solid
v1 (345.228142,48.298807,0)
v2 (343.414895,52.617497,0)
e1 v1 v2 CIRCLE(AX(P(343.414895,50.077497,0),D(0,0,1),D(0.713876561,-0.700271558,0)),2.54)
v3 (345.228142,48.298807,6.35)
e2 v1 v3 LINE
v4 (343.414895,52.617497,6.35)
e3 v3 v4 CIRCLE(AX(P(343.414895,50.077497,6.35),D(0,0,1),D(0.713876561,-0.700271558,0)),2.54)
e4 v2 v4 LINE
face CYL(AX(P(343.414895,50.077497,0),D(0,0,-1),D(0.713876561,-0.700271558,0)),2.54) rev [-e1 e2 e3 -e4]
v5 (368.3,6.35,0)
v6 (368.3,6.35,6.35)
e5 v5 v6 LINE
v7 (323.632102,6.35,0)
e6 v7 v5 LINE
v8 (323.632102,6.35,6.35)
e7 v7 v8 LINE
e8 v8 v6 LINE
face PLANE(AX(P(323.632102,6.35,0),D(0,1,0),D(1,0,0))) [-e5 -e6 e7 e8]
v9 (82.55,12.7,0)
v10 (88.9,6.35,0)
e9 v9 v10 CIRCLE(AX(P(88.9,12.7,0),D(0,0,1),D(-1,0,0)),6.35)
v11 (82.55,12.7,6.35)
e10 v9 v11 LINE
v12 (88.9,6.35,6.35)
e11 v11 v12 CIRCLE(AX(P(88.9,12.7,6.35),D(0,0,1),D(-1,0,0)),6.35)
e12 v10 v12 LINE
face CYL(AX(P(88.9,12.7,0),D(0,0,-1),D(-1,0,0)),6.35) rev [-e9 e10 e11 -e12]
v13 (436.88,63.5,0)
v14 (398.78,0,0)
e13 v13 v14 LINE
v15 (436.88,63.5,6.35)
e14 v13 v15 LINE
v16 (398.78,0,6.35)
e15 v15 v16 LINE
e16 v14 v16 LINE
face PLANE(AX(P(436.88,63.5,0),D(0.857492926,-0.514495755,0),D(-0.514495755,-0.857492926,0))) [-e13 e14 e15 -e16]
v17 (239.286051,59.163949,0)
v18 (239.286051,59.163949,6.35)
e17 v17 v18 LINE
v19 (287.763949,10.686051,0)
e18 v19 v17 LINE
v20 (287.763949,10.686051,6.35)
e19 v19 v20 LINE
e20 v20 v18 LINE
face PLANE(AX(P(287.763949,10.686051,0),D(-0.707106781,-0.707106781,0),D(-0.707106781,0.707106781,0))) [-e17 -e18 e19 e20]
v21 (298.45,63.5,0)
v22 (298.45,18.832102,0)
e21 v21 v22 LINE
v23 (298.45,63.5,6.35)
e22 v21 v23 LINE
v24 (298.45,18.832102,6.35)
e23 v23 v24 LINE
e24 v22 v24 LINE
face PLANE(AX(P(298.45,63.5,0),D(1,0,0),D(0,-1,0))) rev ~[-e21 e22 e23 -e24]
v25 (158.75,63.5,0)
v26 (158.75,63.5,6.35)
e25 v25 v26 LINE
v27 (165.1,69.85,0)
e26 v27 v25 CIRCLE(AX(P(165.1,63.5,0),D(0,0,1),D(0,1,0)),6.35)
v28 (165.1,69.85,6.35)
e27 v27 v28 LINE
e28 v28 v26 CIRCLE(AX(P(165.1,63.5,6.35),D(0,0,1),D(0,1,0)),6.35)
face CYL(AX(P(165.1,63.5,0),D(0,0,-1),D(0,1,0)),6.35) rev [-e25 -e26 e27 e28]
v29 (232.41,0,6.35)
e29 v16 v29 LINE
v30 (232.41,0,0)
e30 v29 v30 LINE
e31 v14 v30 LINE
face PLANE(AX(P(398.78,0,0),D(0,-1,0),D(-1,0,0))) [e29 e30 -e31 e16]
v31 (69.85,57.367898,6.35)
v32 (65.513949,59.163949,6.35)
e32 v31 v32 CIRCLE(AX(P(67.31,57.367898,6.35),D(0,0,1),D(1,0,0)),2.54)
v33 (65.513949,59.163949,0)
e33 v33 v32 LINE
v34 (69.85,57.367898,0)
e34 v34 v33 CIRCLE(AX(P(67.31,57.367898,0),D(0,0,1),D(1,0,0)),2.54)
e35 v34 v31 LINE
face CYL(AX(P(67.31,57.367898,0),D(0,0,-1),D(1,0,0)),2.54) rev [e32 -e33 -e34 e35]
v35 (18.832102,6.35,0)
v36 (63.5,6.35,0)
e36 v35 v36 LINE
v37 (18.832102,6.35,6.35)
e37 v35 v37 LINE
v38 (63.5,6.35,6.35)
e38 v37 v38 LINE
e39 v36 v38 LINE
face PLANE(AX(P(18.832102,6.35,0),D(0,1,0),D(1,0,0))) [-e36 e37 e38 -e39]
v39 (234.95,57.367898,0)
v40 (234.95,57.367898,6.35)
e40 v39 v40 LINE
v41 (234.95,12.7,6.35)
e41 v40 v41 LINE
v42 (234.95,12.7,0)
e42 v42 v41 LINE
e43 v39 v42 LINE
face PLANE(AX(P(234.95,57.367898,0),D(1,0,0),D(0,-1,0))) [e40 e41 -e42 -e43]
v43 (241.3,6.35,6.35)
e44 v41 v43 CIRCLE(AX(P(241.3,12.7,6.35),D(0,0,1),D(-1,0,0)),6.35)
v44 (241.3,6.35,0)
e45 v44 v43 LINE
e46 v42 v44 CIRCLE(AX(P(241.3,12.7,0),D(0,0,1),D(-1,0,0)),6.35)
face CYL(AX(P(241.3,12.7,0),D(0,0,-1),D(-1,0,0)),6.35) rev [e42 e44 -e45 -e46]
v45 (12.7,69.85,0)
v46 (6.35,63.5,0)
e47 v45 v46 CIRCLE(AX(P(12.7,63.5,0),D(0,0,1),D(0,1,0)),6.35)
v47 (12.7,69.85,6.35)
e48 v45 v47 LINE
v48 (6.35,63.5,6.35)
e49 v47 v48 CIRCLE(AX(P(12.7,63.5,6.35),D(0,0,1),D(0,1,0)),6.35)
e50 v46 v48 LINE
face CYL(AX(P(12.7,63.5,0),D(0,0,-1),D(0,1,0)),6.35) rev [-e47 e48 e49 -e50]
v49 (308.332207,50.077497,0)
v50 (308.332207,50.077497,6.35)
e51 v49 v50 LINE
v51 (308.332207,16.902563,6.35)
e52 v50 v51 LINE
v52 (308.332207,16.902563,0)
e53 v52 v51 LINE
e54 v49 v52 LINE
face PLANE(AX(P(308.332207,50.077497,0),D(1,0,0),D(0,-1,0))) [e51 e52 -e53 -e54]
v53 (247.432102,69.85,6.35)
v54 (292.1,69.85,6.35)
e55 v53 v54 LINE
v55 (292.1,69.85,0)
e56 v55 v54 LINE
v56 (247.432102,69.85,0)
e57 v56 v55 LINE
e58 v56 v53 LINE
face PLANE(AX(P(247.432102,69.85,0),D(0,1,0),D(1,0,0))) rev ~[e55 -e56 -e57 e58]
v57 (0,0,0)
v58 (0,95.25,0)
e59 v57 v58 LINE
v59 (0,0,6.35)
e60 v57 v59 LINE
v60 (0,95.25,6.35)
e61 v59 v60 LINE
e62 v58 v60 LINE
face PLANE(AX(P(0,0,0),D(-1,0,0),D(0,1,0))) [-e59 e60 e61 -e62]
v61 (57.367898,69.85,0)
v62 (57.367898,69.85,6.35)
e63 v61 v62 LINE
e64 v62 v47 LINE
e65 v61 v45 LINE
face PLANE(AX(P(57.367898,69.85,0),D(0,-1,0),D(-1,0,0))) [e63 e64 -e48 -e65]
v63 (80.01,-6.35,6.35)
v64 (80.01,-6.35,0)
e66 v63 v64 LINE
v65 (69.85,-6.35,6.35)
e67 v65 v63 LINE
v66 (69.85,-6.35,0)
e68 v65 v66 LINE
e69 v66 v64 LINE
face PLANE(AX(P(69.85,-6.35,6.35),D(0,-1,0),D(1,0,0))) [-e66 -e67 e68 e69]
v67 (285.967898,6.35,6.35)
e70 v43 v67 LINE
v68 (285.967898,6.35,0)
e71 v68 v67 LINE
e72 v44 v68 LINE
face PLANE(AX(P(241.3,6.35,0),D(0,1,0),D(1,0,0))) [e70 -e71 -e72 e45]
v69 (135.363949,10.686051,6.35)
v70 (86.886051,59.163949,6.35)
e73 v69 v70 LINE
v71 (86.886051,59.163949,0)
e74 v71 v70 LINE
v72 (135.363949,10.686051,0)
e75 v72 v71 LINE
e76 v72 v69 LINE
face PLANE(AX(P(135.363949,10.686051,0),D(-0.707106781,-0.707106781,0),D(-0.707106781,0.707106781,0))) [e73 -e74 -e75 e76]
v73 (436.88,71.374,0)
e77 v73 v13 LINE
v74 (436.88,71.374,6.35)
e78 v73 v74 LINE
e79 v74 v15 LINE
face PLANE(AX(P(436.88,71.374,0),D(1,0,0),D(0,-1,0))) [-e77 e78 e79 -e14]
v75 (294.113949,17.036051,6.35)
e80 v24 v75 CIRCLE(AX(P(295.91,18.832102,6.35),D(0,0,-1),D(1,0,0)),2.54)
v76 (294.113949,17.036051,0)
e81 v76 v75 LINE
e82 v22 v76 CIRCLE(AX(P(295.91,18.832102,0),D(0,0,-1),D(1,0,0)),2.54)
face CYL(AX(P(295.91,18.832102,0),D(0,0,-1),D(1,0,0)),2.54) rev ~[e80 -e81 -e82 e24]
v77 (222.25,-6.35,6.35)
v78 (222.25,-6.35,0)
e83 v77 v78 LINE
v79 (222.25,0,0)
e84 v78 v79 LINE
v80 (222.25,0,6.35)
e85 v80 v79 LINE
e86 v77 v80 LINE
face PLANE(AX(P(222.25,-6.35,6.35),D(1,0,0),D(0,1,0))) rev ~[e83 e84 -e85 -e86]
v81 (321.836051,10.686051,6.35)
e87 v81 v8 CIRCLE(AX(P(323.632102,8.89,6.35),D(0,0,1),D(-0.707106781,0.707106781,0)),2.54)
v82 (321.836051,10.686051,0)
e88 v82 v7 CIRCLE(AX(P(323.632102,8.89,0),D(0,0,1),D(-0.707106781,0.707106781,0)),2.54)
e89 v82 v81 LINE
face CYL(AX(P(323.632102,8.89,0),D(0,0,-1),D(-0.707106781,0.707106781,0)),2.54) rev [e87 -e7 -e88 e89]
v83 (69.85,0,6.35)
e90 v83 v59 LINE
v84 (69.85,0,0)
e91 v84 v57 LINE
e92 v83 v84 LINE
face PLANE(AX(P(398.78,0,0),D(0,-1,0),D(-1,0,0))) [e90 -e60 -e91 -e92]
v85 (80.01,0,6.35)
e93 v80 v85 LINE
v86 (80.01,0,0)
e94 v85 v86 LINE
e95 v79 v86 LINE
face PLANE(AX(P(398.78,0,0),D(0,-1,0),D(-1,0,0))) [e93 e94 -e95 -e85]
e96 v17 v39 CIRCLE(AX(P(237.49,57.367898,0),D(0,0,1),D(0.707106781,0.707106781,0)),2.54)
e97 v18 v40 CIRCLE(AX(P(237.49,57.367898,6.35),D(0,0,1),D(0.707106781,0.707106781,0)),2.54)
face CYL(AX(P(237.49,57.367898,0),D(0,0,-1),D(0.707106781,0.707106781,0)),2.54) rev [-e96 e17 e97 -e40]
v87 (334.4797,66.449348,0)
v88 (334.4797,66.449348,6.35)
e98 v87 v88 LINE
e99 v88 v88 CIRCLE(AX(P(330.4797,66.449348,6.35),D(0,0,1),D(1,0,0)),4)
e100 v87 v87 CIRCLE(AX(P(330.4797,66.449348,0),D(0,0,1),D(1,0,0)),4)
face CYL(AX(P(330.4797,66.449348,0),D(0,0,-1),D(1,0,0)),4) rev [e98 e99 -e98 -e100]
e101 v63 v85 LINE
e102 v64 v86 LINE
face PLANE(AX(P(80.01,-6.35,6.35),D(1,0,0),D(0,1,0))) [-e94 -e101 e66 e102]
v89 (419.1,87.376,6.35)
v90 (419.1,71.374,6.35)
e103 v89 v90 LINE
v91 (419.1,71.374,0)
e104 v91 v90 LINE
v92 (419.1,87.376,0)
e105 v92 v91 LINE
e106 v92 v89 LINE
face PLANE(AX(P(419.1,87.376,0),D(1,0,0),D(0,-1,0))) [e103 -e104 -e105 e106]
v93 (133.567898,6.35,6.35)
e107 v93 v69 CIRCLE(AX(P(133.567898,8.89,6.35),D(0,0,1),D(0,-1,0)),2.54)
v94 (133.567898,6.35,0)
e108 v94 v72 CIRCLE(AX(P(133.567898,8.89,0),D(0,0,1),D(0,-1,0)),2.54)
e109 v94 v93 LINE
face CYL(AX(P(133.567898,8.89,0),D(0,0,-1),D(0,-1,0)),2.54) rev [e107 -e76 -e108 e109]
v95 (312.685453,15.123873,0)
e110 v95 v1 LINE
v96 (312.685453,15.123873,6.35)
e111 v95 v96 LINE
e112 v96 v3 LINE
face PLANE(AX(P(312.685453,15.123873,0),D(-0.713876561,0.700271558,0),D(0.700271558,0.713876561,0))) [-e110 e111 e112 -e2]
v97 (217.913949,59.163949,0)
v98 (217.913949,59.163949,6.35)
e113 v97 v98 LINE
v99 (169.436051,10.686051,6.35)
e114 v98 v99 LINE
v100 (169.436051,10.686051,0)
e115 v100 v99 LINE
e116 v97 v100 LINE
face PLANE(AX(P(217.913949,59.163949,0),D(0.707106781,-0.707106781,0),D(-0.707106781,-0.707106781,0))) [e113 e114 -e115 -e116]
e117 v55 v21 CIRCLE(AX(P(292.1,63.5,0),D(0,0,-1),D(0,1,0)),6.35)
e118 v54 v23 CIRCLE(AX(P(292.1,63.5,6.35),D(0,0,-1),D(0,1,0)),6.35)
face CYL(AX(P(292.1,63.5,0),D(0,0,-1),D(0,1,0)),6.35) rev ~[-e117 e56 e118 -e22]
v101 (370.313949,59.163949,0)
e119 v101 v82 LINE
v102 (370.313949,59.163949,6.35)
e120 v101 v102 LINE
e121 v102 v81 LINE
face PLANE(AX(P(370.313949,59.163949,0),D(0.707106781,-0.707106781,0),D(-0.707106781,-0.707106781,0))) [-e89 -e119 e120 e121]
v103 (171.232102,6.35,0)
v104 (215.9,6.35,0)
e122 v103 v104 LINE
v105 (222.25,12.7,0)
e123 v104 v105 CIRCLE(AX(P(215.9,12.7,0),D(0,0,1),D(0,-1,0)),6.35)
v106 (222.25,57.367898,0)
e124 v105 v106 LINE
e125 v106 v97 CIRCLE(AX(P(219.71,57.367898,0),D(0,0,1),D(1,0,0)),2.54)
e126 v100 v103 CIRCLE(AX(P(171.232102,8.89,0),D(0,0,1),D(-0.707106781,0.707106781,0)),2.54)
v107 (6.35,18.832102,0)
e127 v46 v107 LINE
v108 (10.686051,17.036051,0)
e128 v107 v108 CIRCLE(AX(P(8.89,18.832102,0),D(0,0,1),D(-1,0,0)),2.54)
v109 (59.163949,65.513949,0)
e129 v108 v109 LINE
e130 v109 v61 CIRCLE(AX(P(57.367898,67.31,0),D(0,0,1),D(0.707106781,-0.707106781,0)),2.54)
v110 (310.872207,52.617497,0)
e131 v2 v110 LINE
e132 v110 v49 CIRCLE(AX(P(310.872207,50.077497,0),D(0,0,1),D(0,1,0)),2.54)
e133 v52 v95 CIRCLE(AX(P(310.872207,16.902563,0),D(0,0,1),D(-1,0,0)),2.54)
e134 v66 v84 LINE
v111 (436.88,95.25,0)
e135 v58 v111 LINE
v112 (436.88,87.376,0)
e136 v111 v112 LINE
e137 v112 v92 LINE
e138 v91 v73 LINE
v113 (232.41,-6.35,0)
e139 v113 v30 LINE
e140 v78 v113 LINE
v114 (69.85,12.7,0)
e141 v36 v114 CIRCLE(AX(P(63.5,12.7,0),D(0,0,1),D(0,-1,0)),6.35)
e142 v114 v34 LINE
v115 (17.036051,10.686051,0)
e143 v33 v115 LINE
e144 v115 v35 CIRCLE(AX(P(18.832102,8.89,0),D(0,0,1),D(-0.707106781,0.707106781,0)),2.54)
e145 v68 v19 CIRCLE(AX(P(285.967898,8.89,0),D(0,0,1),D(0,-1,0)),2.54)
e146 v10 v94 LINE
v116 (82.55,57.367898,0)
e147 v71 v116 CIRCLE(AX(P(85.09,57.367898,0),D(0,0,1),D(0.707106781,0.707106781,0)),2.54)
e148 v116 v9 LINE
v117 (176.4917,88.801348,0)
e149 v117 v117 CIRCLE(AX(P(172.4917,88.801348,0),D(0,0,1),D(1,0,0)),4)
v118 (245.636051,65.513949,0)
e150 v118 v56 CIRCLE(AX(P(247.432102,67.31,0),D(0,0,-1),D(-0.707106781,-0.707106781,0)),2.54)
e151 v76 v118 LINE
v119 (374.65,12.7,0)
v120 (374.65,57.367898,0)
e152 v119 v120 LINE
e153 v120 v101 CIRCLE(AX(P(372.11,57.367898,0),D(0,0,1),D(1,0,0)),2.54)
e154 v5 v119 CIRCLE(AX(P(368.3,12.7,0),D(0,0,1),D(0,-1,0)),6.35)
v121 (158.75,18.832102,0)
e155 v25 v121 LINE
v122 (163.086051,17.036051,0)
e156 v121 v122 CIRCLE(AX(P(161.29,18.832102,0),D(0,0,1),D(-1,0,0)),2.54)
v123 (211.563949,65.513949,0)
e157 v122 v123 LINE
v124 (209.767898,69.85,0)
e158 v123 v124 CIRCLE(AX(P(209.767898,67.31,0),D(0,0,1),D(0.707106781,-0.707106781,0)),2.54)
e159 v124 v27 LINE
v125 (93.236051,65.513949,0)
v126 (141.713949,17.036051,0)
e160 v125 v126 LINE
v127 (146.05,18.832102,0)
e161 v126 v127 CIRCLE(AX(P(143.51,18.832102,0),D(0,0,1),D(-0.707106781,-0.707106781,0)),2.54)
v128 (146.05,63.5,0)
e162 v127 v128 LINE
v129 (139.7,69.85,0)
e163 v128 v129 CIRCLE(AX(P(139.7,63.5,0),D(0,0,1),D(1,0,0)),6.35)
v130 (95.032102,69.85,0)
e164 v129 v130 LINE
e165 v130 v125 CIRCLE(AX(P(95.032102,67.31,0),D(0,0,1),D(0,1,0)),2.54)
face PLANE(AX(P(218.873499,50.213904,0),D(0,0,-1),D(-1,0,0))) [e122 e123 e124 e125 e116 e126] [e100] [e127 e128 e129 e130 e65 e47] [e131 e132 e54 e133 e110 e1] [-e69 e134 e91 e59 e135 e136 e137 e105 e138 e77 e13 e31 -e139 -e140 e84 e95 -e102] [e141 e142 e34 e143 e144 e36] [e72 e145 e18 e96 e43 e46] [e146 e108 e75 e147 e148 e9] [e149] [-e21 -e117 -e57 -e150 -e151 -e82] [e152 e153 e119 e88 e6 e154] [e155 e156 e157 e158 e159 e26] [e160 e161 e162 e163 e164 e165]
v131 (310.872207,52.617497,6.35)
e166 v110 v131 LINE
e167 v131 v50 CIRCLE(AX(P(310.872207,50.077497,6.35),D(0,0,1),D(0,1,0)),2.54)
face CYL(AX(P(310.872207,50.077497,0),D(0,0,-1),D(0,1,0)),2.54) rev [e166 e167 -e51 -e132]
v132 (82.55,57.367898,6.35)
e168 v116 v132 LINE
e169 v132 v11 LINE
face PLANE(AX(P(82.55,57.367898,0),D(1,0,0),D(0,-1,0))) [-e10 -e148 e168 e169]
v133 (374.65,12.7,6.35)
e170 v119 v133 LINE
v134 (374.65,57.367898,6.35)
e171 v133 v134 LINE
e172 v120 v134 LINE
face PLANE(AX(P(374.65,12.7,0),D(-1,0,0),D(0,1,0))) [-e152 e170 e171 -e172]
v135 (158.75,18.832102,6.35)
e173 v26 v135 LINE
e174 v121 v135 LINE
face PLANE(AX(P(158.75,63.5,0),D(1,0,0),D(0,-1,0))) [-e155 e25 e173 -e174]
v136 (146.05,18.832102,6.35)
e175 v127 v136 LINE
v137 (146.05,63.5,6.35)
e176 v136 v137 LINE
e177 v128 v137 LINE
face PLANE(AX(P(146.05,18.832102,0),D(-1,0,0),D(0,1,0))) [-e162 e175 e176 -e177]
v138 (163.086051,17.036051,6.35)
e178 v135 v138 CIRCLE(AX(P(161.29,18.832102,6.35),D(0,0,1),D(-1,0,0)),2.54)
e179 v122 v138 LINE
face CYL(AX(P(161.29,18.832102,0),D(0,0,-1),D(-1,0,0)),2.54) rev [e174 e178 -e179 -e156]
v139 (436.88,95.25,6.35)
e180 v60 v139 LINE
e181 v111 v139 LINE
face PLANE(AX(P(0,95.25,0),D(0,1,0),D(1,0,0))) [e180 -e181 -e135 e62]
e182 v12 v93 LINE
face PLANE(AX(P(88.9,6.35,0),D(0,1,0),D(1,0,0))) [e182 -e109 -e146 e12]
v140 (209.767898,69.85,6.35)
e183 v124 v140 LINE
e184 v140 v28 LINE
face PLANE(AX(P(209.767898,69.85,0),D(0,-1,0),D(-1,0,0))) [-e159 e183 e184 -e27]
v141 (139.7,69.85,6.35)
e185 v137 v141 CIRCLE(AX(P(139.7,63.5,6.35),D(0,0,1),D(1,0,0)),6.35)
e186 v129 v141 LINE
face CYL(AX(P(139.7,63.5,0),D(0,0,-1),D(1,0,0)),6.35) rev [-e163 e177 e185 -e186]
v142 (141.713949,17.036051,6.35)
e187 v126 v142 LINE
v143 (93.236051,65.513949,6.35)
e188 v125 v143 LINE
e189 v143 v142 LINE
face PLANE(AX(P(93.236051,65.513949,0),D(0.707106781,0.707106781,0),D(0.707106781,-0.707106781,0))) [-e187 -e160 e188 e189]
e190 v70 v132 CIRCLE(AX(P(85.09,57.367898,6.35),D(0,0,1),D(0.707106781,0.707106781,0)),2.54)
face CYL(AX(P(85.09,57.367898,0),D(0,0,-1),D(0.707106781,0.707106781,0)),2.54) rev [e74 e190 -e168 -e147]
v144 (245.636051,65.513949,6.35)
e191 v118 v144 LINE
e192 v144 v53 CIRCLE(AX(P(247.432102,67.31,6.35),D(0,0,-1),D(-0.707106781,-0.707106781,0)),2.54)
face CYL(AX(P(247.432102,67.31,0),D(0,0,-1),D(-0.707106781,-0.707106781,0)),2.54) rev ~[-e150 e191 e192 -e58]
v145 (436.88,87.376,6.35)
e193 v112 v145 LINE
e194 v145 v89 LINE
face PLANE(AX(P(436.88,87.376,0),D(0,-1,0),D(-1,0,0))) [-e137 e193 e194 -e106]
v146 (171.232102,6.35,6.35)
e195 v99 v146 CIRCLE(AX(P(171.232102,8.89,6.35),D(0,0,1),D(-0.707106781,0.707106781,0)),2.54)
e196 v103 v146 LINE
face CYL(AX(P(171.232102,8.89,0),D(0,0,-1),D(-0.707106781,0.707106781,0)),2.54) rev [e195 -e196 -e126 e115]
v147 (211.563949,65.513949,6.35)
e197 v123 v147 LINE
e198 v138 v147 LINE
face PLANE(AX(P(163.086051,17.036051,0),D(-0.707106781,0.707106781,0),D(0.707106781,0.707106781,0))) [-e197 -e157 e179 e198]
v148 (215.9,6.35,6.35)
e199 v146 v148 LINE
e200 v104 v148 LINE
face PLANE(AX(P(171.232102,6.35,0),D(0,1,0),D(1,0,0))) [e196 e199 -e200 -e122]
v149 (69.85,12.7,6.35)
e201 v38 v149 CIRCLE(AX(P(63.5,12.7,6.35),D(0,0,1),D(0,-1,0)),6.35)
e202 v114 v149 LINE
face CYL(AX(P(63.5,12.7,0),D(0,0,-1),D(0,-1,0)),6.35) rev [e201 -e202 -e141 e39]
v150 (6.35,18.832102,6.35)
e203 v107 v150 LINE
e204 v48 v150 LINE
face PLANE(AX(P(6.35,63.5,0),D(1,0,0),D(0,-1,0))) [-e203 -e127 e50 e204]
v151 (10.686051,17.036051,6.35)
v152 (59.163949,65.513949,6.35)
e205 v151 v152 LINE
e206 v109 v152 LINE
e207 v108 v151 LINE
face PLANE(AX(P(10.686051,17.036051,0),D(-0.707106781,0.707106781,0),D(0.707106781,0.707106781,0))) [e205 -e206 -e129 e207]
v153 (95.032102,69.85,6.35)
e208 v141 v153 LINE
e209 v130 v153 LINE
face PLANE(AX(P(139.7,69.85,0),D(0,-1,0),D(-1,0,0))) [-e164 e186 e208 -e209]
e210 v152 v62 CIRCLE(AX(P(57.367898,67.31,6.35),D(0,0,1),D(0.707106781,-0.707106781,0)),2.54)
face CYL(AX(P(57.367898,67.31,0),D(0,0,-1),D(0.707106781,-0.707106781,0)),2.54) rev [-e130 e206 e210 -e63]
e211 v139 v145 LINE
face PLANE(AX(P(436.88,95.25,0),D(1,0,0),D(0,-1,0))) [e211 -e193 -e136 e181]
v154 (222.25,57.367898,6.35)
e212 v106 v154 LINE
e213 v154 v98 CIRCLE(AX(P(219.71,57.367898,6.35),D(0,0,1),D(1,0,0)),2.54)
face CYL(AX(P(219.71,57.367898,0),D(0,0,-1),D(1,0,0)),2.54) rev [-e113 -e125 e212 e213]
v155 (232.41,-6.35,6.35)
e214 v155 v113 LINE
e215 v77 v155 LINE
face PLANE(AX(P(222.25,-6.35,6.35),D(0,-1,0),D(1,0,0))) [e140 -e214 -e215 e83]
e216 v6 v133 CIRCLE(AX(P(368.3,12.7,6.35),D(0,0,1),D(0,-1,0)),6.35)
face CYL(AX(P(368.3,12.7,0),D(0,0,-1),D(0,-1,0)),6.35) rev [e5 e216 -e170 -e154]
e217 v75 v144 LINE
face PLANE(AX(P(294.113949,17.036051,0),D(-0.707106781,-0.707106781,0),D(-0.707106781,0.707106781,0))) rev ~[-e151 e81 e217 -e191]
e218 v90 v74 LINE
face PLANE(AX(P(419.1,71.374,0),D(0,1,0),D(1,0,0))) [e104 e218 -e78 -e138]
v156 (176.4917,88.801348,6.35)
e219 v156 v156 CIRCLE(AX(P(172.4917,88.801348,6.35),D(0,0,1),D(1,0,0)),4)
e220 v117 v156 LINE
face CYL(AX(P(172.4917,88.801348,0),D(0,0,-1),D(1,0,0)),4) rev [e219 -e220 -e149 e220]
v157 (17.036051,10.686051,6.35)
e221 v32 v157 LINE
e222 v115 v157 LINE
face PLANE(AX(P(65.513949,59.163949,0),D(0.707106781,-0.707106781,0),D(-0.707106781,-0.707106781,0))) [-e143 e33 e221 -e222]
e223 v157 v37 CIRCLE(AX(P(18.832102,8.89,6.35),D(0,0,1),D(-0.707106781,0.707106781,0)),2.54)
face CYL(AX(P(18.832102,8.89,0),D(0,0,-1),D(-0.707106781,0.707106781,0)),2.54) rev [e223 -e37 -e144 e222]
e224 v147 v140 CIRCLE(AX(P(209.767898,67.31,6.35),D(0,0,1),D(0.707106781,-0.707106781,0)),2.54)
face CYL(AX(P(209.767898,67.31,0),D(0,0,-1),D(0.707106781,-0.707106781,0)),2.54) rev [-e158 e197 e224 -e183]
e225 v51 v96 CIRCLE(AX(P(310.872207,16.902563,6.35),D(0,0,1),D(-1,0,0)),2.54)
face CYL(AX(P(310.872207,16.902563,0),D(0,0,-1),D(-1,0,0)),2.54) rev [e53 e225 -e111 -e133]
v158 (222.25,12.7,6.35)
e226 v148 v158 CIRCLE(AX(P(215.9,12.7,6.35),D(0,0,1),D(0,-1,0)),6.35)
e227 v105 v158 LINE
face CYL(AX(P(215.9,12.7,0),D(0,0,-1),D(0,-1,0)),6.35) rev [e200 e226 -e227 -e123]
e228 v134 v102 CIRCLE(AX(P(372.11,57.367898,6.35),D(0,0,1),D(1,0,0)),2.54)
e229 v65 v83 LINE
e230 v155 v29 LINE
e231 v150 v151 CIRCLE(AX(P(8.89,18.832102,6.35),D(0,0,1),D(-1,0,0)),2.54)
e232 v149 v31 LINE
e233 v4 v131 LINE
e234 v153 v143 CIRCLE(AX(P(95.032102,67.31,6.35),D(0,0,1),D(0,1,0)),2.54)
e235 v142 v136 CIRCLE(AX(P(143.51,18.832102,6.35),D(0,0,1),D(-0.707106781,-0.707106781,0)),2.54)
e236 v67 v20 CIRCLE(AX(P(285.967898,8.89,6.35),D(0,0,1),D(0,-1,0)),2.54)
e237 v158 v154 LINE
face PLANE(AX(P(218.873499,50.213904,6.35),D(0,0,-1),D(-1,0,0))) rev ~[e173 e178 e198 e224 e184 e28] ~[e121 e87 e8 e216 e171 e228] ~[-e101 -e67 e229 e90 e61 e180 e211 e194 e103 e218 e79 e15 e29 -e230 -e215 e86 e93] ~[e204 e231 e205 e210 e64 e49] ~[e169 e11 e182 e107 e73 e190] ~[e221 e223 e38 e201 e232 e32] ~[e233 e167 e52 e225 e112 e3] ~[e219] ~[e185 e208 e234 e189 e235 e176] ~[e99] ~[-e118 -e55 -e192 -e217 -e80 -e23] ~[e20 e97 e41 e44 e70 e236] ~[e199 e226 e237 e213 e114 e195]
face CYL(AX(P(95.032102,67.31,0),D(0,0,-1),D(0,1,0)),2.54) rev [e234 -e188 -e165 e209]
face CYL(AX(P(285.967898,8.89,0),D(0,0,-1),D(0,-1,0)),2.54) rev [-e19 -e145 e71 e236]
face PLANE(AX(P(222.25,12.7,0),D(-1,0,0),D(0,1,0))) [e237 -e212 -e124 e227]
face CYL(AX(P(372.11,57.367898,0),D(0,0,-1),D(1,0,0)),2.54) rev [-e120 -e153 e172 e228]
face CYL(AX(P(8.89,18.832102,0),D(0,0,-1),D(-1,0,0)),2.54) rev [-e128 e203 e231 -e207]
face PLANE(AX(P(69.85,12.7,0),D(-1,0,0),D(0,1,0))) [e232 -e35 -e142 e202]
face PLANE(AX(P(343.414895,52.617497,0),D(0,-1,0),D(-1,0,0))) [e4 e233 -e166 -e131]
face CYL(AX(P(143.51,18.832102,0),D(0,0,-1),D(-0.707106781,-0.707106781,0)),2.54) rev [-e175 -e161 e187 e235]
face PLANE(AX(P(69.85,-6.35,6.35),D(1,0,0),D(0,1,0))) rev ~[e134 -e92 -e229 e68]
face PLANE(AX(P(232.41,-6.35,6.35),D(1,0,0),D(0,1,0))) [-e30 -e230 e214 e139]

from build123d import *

# Parameters (mm, degrees)
MODEL_R             = 4
BOSS_EXTRUDE2_DEPTH = 6.35
SKETCH1_W           = 10.16
SKETCH1_H           = 6.35
BOSS_EXTRUDE3_DEPTH = 6.35


with BuildPart() as part:
    # Model → Boss-Extrude2 (new body)
    with BuildSketch(Plane.XY):
        Polygon((419.1, 87.376), (419.1, 71.374), (436.88, 71.374), (436.88, 63.5), (398.78, 0), (0, 0), (0, 95.25), (436.88, 95.25), (436.88, 87.376), align=None)
        with Locations((172.491700482, 88.801347744)):
            Circle(MODEL_R, mode=Mode.SUBTRACT)
        with Locations((330.479700482, 66.449347744)):
            Circle(MODEL_R, mode=Mode.SUBTRACT)
        with BuildLine():
            Line((312.685453403, 15.123873353), (345.228141797, 48.298807013))
            ThreePointArc((345.228141797, 48.298807013), (345.756846653, 51.060789203), (343.414895332, 52.617496771))
            Line((343.414895332, 52.617496771), (310.872206937, 52.617496771))
            ThreePointArc((310.872206937, 52.617496771), (309.076155713, 51.873547995), (308.332206937, 50.077496771))
            Line((308.332206937, 50.077496771), (308.332206937, 16.902563111))
            ThreePointArc((308.332206937, 16.902563111), (309.911490023, 14.551260704), (312.685453403, 15.123873353))
        make_face(mode=Mode.SUBTRACT)
        with BuildLine():
            Line((171.232102448, 6.35), (215.9, 6.35))
            ThreePointArc((215.9, 6.35), (220.390128061, 8.209871939), (222.25, 12.7))
            Line((222.25, 12.7), (222.25, 57.367897552))
            ThreePointArc((222.25, 57.367897552), (220.682015918, 59.714551565), (217.913948776, 59.163948776))
            Line((217.913948776, 59.163948776), (169.436051224, 10.686051224))
            ThreePointArc((169.436051224, 10.686051224), (168.885448435, 7.917984082), (171.232102448, 6.35))
        make_face(mode=Mode.SUBTRACT)
        with BuildLine():
            Line((234.95, 57.367897552), (234.95, 12.7))
            ThreePointArc((234.95, 12.7), (236.809871939, 8.209871939), (241.3, 6.35))
            Line((241.3, 6.35), (285.967897552, 6.35))
            ThreePointArc((285.967897552, 6.35), (288.314551565, 7.917984082), (287.763948776, 10.686051224))
            Line((287.763948776, 10.686051224), (239.286051224, 59.163948776))
            ThreePointArc((239.286051224, 59.163948776), (236.517984082, 59.714551565), (234.95, 57.367897552))
        make_face(mode=Mode.SUBTRACT)
        with BuildLine():
            Line((294.113948776, 17.036051224), (245.636051224, 65.513948776))
            ThreePointArc((245.636051224, 65.513948776), (245.085448435, 68.282015918), (247.432102448, 69.85))
            Line((247.432102448, 69.85), (292.1, 69.85))
            ThreePointArc((292.1, 69.85), (296.590128061, 67.990128061), (298.45, 63.5))
            Line((298.45, 63.5), (298.45, 18.832102448))
            ThreePointArc((298.45, 18.832102448), (296.882015918, 16.485448435), (294.113948776, 17.036051224))
        make_face(mode=Mode.SUBTRACT)
        with BuildLine():
            Line((323.632102448, 6.35), (368.3, 6.35))
            ThreePointArc((368.3, 6.35), (372.790128061, 8.209871939), (374.65, 12.7))
            Line((374.65, 12.7), (374.65, 57.367897552))
            ThreePointArc((374.65, 57.367897552), (373.082015918, 59.714551565), (370.313948776, 59.163948776))
            Line((370.313948776, 59.163948776), (321.836051224, 10.686051224))
            ThreePointArc((321.836051224, 10.686051224), (321.285448435, 7.917984082), (323.632102448, 6.35))
        make_face(mode=Mode.SUBTRACT)
        with BuildLine():
            Line((18.832102448, 6.35), (63.5, 6.35))
            ThreePointArc((63.5, 6.35), (67.990128061, 8.209871939), (69.85, 12.7))
            Line((69.85, 12.7), (69.85, 57.367897552))
            ThreePointArc((69.85, 57.367897552), (68.282015918, 59.714551565), (65.513948776, 59.163948776))
            Line((65.513948776, 59.163948776), (17.036051224, 10.686051224))
            ThreePointArc((17.036051224, 10.686051224), (16.485448435, 7.917984082), (18.832102448, 6.35))
        make_face(mode=Mode.SUBTRACT)
        with BuildLine():
            Line((82.55, 57.367897552), (82.55, 12.7))
            ThreePointArc((82.55, 12.7), (84.409871939, 8.209871939), (88.9, 6.35))
            Line((88.9, 6.35), (133.567897552, 6.35))
            ThreePointArc((133.567897552, 6.35), (135.914551565, 7.917984082), (135.363948776, 10.686051224))
            Line((135.363948776, 10.686051224), (86.886051224, 59.163948776))
            ThreePointArc((86.886051224, 59.163948776), (84.117984082, 59.714551565), (82.55, 57.367897552))
        make_face(mode=Mode.SUBTRACT)
        with BuildLine():
            Line((93.236051224, 65.513948776), (141.713948776, 17.036051224))
            ThreePointArc((141.713948776, 17.036051224), (144.482015918, 16.485448435), (146.05, 18.832102448))
            Line((146.05, 18.832102448), (146.05, 63.5))
            ThreePointArc((146.05, 63.5), (144.190128061, 67.990128061), (139.7, 69.85))
            Line((139.7, 69.85), (95.032102448, 69.85))
            ThreePointArc((95.032102448, 69.85), (92.685448435, 68.282015918), (93.236051224, 65.513948776))
        make_face(mode=Mode.SUBTRACT)
        with BuildLine():
            Line((163.086051224, 17.036051224), (211.563948776, 65.513948776))
            ThreePointArc((211.563948776, 65.513948776), (212.114551565, 68.282015918), (209.767897552, 69.85))
            Line((209.767897552, 69.85), (165.1, 69.85))
            ThreePointArc((165.1, 69.85), (160.609871939, 67.990128061), (158.75, 63.5))
            Line((158.75, 63.5), (158.75, 18.832102448))
            ThreePointArc((158.75, 18.832102448), (160.317984082, 16.485448435), (163.086051224, 17.036051224))
        make_face(mode=Mode.SUBTRACT)
        with BuildLine():
            Line((6.35, 63.5), (6.35, 18.832102448))
            ThreePointArc((6.35, 18.832102448), (7.917984082, 16.485448435), (10.686051224, 17.036051224))
            Line((10.686051224, 17.036051224), (59.163948776, 65.513948776))
            ThreePointArc((59.163948776, 65.513948776), (59.714551565, 68.282015918), (57.367897552, 69.85))
            Line((57.367897552, 69.85), (12.7, 69.85))
            ThreePointArc((12.7, 69.85), (8.209871939, 67.990128061), (6.35, 63.5))
        make_face(mode=Mode.SUBTRACT)
    extrude(amount=BOSS_EXTRUDE2_DEPTH)

    # Sketch1 → Boss-Extrude3 (add)
    with BuildSketch(Plane.XY.offset(6.35)):
        with Locations((74.93, -3.175)):
            Rectangle(SKETCH1_W, SKETCH1_H)
        with Locations((227.33, -3.175)):
            Rectangle(SKETCH1_W, SKETCH1_H)
    extrude(amount=-BOSS_EXTRUDE3_DEPTH)


solid = part.part
